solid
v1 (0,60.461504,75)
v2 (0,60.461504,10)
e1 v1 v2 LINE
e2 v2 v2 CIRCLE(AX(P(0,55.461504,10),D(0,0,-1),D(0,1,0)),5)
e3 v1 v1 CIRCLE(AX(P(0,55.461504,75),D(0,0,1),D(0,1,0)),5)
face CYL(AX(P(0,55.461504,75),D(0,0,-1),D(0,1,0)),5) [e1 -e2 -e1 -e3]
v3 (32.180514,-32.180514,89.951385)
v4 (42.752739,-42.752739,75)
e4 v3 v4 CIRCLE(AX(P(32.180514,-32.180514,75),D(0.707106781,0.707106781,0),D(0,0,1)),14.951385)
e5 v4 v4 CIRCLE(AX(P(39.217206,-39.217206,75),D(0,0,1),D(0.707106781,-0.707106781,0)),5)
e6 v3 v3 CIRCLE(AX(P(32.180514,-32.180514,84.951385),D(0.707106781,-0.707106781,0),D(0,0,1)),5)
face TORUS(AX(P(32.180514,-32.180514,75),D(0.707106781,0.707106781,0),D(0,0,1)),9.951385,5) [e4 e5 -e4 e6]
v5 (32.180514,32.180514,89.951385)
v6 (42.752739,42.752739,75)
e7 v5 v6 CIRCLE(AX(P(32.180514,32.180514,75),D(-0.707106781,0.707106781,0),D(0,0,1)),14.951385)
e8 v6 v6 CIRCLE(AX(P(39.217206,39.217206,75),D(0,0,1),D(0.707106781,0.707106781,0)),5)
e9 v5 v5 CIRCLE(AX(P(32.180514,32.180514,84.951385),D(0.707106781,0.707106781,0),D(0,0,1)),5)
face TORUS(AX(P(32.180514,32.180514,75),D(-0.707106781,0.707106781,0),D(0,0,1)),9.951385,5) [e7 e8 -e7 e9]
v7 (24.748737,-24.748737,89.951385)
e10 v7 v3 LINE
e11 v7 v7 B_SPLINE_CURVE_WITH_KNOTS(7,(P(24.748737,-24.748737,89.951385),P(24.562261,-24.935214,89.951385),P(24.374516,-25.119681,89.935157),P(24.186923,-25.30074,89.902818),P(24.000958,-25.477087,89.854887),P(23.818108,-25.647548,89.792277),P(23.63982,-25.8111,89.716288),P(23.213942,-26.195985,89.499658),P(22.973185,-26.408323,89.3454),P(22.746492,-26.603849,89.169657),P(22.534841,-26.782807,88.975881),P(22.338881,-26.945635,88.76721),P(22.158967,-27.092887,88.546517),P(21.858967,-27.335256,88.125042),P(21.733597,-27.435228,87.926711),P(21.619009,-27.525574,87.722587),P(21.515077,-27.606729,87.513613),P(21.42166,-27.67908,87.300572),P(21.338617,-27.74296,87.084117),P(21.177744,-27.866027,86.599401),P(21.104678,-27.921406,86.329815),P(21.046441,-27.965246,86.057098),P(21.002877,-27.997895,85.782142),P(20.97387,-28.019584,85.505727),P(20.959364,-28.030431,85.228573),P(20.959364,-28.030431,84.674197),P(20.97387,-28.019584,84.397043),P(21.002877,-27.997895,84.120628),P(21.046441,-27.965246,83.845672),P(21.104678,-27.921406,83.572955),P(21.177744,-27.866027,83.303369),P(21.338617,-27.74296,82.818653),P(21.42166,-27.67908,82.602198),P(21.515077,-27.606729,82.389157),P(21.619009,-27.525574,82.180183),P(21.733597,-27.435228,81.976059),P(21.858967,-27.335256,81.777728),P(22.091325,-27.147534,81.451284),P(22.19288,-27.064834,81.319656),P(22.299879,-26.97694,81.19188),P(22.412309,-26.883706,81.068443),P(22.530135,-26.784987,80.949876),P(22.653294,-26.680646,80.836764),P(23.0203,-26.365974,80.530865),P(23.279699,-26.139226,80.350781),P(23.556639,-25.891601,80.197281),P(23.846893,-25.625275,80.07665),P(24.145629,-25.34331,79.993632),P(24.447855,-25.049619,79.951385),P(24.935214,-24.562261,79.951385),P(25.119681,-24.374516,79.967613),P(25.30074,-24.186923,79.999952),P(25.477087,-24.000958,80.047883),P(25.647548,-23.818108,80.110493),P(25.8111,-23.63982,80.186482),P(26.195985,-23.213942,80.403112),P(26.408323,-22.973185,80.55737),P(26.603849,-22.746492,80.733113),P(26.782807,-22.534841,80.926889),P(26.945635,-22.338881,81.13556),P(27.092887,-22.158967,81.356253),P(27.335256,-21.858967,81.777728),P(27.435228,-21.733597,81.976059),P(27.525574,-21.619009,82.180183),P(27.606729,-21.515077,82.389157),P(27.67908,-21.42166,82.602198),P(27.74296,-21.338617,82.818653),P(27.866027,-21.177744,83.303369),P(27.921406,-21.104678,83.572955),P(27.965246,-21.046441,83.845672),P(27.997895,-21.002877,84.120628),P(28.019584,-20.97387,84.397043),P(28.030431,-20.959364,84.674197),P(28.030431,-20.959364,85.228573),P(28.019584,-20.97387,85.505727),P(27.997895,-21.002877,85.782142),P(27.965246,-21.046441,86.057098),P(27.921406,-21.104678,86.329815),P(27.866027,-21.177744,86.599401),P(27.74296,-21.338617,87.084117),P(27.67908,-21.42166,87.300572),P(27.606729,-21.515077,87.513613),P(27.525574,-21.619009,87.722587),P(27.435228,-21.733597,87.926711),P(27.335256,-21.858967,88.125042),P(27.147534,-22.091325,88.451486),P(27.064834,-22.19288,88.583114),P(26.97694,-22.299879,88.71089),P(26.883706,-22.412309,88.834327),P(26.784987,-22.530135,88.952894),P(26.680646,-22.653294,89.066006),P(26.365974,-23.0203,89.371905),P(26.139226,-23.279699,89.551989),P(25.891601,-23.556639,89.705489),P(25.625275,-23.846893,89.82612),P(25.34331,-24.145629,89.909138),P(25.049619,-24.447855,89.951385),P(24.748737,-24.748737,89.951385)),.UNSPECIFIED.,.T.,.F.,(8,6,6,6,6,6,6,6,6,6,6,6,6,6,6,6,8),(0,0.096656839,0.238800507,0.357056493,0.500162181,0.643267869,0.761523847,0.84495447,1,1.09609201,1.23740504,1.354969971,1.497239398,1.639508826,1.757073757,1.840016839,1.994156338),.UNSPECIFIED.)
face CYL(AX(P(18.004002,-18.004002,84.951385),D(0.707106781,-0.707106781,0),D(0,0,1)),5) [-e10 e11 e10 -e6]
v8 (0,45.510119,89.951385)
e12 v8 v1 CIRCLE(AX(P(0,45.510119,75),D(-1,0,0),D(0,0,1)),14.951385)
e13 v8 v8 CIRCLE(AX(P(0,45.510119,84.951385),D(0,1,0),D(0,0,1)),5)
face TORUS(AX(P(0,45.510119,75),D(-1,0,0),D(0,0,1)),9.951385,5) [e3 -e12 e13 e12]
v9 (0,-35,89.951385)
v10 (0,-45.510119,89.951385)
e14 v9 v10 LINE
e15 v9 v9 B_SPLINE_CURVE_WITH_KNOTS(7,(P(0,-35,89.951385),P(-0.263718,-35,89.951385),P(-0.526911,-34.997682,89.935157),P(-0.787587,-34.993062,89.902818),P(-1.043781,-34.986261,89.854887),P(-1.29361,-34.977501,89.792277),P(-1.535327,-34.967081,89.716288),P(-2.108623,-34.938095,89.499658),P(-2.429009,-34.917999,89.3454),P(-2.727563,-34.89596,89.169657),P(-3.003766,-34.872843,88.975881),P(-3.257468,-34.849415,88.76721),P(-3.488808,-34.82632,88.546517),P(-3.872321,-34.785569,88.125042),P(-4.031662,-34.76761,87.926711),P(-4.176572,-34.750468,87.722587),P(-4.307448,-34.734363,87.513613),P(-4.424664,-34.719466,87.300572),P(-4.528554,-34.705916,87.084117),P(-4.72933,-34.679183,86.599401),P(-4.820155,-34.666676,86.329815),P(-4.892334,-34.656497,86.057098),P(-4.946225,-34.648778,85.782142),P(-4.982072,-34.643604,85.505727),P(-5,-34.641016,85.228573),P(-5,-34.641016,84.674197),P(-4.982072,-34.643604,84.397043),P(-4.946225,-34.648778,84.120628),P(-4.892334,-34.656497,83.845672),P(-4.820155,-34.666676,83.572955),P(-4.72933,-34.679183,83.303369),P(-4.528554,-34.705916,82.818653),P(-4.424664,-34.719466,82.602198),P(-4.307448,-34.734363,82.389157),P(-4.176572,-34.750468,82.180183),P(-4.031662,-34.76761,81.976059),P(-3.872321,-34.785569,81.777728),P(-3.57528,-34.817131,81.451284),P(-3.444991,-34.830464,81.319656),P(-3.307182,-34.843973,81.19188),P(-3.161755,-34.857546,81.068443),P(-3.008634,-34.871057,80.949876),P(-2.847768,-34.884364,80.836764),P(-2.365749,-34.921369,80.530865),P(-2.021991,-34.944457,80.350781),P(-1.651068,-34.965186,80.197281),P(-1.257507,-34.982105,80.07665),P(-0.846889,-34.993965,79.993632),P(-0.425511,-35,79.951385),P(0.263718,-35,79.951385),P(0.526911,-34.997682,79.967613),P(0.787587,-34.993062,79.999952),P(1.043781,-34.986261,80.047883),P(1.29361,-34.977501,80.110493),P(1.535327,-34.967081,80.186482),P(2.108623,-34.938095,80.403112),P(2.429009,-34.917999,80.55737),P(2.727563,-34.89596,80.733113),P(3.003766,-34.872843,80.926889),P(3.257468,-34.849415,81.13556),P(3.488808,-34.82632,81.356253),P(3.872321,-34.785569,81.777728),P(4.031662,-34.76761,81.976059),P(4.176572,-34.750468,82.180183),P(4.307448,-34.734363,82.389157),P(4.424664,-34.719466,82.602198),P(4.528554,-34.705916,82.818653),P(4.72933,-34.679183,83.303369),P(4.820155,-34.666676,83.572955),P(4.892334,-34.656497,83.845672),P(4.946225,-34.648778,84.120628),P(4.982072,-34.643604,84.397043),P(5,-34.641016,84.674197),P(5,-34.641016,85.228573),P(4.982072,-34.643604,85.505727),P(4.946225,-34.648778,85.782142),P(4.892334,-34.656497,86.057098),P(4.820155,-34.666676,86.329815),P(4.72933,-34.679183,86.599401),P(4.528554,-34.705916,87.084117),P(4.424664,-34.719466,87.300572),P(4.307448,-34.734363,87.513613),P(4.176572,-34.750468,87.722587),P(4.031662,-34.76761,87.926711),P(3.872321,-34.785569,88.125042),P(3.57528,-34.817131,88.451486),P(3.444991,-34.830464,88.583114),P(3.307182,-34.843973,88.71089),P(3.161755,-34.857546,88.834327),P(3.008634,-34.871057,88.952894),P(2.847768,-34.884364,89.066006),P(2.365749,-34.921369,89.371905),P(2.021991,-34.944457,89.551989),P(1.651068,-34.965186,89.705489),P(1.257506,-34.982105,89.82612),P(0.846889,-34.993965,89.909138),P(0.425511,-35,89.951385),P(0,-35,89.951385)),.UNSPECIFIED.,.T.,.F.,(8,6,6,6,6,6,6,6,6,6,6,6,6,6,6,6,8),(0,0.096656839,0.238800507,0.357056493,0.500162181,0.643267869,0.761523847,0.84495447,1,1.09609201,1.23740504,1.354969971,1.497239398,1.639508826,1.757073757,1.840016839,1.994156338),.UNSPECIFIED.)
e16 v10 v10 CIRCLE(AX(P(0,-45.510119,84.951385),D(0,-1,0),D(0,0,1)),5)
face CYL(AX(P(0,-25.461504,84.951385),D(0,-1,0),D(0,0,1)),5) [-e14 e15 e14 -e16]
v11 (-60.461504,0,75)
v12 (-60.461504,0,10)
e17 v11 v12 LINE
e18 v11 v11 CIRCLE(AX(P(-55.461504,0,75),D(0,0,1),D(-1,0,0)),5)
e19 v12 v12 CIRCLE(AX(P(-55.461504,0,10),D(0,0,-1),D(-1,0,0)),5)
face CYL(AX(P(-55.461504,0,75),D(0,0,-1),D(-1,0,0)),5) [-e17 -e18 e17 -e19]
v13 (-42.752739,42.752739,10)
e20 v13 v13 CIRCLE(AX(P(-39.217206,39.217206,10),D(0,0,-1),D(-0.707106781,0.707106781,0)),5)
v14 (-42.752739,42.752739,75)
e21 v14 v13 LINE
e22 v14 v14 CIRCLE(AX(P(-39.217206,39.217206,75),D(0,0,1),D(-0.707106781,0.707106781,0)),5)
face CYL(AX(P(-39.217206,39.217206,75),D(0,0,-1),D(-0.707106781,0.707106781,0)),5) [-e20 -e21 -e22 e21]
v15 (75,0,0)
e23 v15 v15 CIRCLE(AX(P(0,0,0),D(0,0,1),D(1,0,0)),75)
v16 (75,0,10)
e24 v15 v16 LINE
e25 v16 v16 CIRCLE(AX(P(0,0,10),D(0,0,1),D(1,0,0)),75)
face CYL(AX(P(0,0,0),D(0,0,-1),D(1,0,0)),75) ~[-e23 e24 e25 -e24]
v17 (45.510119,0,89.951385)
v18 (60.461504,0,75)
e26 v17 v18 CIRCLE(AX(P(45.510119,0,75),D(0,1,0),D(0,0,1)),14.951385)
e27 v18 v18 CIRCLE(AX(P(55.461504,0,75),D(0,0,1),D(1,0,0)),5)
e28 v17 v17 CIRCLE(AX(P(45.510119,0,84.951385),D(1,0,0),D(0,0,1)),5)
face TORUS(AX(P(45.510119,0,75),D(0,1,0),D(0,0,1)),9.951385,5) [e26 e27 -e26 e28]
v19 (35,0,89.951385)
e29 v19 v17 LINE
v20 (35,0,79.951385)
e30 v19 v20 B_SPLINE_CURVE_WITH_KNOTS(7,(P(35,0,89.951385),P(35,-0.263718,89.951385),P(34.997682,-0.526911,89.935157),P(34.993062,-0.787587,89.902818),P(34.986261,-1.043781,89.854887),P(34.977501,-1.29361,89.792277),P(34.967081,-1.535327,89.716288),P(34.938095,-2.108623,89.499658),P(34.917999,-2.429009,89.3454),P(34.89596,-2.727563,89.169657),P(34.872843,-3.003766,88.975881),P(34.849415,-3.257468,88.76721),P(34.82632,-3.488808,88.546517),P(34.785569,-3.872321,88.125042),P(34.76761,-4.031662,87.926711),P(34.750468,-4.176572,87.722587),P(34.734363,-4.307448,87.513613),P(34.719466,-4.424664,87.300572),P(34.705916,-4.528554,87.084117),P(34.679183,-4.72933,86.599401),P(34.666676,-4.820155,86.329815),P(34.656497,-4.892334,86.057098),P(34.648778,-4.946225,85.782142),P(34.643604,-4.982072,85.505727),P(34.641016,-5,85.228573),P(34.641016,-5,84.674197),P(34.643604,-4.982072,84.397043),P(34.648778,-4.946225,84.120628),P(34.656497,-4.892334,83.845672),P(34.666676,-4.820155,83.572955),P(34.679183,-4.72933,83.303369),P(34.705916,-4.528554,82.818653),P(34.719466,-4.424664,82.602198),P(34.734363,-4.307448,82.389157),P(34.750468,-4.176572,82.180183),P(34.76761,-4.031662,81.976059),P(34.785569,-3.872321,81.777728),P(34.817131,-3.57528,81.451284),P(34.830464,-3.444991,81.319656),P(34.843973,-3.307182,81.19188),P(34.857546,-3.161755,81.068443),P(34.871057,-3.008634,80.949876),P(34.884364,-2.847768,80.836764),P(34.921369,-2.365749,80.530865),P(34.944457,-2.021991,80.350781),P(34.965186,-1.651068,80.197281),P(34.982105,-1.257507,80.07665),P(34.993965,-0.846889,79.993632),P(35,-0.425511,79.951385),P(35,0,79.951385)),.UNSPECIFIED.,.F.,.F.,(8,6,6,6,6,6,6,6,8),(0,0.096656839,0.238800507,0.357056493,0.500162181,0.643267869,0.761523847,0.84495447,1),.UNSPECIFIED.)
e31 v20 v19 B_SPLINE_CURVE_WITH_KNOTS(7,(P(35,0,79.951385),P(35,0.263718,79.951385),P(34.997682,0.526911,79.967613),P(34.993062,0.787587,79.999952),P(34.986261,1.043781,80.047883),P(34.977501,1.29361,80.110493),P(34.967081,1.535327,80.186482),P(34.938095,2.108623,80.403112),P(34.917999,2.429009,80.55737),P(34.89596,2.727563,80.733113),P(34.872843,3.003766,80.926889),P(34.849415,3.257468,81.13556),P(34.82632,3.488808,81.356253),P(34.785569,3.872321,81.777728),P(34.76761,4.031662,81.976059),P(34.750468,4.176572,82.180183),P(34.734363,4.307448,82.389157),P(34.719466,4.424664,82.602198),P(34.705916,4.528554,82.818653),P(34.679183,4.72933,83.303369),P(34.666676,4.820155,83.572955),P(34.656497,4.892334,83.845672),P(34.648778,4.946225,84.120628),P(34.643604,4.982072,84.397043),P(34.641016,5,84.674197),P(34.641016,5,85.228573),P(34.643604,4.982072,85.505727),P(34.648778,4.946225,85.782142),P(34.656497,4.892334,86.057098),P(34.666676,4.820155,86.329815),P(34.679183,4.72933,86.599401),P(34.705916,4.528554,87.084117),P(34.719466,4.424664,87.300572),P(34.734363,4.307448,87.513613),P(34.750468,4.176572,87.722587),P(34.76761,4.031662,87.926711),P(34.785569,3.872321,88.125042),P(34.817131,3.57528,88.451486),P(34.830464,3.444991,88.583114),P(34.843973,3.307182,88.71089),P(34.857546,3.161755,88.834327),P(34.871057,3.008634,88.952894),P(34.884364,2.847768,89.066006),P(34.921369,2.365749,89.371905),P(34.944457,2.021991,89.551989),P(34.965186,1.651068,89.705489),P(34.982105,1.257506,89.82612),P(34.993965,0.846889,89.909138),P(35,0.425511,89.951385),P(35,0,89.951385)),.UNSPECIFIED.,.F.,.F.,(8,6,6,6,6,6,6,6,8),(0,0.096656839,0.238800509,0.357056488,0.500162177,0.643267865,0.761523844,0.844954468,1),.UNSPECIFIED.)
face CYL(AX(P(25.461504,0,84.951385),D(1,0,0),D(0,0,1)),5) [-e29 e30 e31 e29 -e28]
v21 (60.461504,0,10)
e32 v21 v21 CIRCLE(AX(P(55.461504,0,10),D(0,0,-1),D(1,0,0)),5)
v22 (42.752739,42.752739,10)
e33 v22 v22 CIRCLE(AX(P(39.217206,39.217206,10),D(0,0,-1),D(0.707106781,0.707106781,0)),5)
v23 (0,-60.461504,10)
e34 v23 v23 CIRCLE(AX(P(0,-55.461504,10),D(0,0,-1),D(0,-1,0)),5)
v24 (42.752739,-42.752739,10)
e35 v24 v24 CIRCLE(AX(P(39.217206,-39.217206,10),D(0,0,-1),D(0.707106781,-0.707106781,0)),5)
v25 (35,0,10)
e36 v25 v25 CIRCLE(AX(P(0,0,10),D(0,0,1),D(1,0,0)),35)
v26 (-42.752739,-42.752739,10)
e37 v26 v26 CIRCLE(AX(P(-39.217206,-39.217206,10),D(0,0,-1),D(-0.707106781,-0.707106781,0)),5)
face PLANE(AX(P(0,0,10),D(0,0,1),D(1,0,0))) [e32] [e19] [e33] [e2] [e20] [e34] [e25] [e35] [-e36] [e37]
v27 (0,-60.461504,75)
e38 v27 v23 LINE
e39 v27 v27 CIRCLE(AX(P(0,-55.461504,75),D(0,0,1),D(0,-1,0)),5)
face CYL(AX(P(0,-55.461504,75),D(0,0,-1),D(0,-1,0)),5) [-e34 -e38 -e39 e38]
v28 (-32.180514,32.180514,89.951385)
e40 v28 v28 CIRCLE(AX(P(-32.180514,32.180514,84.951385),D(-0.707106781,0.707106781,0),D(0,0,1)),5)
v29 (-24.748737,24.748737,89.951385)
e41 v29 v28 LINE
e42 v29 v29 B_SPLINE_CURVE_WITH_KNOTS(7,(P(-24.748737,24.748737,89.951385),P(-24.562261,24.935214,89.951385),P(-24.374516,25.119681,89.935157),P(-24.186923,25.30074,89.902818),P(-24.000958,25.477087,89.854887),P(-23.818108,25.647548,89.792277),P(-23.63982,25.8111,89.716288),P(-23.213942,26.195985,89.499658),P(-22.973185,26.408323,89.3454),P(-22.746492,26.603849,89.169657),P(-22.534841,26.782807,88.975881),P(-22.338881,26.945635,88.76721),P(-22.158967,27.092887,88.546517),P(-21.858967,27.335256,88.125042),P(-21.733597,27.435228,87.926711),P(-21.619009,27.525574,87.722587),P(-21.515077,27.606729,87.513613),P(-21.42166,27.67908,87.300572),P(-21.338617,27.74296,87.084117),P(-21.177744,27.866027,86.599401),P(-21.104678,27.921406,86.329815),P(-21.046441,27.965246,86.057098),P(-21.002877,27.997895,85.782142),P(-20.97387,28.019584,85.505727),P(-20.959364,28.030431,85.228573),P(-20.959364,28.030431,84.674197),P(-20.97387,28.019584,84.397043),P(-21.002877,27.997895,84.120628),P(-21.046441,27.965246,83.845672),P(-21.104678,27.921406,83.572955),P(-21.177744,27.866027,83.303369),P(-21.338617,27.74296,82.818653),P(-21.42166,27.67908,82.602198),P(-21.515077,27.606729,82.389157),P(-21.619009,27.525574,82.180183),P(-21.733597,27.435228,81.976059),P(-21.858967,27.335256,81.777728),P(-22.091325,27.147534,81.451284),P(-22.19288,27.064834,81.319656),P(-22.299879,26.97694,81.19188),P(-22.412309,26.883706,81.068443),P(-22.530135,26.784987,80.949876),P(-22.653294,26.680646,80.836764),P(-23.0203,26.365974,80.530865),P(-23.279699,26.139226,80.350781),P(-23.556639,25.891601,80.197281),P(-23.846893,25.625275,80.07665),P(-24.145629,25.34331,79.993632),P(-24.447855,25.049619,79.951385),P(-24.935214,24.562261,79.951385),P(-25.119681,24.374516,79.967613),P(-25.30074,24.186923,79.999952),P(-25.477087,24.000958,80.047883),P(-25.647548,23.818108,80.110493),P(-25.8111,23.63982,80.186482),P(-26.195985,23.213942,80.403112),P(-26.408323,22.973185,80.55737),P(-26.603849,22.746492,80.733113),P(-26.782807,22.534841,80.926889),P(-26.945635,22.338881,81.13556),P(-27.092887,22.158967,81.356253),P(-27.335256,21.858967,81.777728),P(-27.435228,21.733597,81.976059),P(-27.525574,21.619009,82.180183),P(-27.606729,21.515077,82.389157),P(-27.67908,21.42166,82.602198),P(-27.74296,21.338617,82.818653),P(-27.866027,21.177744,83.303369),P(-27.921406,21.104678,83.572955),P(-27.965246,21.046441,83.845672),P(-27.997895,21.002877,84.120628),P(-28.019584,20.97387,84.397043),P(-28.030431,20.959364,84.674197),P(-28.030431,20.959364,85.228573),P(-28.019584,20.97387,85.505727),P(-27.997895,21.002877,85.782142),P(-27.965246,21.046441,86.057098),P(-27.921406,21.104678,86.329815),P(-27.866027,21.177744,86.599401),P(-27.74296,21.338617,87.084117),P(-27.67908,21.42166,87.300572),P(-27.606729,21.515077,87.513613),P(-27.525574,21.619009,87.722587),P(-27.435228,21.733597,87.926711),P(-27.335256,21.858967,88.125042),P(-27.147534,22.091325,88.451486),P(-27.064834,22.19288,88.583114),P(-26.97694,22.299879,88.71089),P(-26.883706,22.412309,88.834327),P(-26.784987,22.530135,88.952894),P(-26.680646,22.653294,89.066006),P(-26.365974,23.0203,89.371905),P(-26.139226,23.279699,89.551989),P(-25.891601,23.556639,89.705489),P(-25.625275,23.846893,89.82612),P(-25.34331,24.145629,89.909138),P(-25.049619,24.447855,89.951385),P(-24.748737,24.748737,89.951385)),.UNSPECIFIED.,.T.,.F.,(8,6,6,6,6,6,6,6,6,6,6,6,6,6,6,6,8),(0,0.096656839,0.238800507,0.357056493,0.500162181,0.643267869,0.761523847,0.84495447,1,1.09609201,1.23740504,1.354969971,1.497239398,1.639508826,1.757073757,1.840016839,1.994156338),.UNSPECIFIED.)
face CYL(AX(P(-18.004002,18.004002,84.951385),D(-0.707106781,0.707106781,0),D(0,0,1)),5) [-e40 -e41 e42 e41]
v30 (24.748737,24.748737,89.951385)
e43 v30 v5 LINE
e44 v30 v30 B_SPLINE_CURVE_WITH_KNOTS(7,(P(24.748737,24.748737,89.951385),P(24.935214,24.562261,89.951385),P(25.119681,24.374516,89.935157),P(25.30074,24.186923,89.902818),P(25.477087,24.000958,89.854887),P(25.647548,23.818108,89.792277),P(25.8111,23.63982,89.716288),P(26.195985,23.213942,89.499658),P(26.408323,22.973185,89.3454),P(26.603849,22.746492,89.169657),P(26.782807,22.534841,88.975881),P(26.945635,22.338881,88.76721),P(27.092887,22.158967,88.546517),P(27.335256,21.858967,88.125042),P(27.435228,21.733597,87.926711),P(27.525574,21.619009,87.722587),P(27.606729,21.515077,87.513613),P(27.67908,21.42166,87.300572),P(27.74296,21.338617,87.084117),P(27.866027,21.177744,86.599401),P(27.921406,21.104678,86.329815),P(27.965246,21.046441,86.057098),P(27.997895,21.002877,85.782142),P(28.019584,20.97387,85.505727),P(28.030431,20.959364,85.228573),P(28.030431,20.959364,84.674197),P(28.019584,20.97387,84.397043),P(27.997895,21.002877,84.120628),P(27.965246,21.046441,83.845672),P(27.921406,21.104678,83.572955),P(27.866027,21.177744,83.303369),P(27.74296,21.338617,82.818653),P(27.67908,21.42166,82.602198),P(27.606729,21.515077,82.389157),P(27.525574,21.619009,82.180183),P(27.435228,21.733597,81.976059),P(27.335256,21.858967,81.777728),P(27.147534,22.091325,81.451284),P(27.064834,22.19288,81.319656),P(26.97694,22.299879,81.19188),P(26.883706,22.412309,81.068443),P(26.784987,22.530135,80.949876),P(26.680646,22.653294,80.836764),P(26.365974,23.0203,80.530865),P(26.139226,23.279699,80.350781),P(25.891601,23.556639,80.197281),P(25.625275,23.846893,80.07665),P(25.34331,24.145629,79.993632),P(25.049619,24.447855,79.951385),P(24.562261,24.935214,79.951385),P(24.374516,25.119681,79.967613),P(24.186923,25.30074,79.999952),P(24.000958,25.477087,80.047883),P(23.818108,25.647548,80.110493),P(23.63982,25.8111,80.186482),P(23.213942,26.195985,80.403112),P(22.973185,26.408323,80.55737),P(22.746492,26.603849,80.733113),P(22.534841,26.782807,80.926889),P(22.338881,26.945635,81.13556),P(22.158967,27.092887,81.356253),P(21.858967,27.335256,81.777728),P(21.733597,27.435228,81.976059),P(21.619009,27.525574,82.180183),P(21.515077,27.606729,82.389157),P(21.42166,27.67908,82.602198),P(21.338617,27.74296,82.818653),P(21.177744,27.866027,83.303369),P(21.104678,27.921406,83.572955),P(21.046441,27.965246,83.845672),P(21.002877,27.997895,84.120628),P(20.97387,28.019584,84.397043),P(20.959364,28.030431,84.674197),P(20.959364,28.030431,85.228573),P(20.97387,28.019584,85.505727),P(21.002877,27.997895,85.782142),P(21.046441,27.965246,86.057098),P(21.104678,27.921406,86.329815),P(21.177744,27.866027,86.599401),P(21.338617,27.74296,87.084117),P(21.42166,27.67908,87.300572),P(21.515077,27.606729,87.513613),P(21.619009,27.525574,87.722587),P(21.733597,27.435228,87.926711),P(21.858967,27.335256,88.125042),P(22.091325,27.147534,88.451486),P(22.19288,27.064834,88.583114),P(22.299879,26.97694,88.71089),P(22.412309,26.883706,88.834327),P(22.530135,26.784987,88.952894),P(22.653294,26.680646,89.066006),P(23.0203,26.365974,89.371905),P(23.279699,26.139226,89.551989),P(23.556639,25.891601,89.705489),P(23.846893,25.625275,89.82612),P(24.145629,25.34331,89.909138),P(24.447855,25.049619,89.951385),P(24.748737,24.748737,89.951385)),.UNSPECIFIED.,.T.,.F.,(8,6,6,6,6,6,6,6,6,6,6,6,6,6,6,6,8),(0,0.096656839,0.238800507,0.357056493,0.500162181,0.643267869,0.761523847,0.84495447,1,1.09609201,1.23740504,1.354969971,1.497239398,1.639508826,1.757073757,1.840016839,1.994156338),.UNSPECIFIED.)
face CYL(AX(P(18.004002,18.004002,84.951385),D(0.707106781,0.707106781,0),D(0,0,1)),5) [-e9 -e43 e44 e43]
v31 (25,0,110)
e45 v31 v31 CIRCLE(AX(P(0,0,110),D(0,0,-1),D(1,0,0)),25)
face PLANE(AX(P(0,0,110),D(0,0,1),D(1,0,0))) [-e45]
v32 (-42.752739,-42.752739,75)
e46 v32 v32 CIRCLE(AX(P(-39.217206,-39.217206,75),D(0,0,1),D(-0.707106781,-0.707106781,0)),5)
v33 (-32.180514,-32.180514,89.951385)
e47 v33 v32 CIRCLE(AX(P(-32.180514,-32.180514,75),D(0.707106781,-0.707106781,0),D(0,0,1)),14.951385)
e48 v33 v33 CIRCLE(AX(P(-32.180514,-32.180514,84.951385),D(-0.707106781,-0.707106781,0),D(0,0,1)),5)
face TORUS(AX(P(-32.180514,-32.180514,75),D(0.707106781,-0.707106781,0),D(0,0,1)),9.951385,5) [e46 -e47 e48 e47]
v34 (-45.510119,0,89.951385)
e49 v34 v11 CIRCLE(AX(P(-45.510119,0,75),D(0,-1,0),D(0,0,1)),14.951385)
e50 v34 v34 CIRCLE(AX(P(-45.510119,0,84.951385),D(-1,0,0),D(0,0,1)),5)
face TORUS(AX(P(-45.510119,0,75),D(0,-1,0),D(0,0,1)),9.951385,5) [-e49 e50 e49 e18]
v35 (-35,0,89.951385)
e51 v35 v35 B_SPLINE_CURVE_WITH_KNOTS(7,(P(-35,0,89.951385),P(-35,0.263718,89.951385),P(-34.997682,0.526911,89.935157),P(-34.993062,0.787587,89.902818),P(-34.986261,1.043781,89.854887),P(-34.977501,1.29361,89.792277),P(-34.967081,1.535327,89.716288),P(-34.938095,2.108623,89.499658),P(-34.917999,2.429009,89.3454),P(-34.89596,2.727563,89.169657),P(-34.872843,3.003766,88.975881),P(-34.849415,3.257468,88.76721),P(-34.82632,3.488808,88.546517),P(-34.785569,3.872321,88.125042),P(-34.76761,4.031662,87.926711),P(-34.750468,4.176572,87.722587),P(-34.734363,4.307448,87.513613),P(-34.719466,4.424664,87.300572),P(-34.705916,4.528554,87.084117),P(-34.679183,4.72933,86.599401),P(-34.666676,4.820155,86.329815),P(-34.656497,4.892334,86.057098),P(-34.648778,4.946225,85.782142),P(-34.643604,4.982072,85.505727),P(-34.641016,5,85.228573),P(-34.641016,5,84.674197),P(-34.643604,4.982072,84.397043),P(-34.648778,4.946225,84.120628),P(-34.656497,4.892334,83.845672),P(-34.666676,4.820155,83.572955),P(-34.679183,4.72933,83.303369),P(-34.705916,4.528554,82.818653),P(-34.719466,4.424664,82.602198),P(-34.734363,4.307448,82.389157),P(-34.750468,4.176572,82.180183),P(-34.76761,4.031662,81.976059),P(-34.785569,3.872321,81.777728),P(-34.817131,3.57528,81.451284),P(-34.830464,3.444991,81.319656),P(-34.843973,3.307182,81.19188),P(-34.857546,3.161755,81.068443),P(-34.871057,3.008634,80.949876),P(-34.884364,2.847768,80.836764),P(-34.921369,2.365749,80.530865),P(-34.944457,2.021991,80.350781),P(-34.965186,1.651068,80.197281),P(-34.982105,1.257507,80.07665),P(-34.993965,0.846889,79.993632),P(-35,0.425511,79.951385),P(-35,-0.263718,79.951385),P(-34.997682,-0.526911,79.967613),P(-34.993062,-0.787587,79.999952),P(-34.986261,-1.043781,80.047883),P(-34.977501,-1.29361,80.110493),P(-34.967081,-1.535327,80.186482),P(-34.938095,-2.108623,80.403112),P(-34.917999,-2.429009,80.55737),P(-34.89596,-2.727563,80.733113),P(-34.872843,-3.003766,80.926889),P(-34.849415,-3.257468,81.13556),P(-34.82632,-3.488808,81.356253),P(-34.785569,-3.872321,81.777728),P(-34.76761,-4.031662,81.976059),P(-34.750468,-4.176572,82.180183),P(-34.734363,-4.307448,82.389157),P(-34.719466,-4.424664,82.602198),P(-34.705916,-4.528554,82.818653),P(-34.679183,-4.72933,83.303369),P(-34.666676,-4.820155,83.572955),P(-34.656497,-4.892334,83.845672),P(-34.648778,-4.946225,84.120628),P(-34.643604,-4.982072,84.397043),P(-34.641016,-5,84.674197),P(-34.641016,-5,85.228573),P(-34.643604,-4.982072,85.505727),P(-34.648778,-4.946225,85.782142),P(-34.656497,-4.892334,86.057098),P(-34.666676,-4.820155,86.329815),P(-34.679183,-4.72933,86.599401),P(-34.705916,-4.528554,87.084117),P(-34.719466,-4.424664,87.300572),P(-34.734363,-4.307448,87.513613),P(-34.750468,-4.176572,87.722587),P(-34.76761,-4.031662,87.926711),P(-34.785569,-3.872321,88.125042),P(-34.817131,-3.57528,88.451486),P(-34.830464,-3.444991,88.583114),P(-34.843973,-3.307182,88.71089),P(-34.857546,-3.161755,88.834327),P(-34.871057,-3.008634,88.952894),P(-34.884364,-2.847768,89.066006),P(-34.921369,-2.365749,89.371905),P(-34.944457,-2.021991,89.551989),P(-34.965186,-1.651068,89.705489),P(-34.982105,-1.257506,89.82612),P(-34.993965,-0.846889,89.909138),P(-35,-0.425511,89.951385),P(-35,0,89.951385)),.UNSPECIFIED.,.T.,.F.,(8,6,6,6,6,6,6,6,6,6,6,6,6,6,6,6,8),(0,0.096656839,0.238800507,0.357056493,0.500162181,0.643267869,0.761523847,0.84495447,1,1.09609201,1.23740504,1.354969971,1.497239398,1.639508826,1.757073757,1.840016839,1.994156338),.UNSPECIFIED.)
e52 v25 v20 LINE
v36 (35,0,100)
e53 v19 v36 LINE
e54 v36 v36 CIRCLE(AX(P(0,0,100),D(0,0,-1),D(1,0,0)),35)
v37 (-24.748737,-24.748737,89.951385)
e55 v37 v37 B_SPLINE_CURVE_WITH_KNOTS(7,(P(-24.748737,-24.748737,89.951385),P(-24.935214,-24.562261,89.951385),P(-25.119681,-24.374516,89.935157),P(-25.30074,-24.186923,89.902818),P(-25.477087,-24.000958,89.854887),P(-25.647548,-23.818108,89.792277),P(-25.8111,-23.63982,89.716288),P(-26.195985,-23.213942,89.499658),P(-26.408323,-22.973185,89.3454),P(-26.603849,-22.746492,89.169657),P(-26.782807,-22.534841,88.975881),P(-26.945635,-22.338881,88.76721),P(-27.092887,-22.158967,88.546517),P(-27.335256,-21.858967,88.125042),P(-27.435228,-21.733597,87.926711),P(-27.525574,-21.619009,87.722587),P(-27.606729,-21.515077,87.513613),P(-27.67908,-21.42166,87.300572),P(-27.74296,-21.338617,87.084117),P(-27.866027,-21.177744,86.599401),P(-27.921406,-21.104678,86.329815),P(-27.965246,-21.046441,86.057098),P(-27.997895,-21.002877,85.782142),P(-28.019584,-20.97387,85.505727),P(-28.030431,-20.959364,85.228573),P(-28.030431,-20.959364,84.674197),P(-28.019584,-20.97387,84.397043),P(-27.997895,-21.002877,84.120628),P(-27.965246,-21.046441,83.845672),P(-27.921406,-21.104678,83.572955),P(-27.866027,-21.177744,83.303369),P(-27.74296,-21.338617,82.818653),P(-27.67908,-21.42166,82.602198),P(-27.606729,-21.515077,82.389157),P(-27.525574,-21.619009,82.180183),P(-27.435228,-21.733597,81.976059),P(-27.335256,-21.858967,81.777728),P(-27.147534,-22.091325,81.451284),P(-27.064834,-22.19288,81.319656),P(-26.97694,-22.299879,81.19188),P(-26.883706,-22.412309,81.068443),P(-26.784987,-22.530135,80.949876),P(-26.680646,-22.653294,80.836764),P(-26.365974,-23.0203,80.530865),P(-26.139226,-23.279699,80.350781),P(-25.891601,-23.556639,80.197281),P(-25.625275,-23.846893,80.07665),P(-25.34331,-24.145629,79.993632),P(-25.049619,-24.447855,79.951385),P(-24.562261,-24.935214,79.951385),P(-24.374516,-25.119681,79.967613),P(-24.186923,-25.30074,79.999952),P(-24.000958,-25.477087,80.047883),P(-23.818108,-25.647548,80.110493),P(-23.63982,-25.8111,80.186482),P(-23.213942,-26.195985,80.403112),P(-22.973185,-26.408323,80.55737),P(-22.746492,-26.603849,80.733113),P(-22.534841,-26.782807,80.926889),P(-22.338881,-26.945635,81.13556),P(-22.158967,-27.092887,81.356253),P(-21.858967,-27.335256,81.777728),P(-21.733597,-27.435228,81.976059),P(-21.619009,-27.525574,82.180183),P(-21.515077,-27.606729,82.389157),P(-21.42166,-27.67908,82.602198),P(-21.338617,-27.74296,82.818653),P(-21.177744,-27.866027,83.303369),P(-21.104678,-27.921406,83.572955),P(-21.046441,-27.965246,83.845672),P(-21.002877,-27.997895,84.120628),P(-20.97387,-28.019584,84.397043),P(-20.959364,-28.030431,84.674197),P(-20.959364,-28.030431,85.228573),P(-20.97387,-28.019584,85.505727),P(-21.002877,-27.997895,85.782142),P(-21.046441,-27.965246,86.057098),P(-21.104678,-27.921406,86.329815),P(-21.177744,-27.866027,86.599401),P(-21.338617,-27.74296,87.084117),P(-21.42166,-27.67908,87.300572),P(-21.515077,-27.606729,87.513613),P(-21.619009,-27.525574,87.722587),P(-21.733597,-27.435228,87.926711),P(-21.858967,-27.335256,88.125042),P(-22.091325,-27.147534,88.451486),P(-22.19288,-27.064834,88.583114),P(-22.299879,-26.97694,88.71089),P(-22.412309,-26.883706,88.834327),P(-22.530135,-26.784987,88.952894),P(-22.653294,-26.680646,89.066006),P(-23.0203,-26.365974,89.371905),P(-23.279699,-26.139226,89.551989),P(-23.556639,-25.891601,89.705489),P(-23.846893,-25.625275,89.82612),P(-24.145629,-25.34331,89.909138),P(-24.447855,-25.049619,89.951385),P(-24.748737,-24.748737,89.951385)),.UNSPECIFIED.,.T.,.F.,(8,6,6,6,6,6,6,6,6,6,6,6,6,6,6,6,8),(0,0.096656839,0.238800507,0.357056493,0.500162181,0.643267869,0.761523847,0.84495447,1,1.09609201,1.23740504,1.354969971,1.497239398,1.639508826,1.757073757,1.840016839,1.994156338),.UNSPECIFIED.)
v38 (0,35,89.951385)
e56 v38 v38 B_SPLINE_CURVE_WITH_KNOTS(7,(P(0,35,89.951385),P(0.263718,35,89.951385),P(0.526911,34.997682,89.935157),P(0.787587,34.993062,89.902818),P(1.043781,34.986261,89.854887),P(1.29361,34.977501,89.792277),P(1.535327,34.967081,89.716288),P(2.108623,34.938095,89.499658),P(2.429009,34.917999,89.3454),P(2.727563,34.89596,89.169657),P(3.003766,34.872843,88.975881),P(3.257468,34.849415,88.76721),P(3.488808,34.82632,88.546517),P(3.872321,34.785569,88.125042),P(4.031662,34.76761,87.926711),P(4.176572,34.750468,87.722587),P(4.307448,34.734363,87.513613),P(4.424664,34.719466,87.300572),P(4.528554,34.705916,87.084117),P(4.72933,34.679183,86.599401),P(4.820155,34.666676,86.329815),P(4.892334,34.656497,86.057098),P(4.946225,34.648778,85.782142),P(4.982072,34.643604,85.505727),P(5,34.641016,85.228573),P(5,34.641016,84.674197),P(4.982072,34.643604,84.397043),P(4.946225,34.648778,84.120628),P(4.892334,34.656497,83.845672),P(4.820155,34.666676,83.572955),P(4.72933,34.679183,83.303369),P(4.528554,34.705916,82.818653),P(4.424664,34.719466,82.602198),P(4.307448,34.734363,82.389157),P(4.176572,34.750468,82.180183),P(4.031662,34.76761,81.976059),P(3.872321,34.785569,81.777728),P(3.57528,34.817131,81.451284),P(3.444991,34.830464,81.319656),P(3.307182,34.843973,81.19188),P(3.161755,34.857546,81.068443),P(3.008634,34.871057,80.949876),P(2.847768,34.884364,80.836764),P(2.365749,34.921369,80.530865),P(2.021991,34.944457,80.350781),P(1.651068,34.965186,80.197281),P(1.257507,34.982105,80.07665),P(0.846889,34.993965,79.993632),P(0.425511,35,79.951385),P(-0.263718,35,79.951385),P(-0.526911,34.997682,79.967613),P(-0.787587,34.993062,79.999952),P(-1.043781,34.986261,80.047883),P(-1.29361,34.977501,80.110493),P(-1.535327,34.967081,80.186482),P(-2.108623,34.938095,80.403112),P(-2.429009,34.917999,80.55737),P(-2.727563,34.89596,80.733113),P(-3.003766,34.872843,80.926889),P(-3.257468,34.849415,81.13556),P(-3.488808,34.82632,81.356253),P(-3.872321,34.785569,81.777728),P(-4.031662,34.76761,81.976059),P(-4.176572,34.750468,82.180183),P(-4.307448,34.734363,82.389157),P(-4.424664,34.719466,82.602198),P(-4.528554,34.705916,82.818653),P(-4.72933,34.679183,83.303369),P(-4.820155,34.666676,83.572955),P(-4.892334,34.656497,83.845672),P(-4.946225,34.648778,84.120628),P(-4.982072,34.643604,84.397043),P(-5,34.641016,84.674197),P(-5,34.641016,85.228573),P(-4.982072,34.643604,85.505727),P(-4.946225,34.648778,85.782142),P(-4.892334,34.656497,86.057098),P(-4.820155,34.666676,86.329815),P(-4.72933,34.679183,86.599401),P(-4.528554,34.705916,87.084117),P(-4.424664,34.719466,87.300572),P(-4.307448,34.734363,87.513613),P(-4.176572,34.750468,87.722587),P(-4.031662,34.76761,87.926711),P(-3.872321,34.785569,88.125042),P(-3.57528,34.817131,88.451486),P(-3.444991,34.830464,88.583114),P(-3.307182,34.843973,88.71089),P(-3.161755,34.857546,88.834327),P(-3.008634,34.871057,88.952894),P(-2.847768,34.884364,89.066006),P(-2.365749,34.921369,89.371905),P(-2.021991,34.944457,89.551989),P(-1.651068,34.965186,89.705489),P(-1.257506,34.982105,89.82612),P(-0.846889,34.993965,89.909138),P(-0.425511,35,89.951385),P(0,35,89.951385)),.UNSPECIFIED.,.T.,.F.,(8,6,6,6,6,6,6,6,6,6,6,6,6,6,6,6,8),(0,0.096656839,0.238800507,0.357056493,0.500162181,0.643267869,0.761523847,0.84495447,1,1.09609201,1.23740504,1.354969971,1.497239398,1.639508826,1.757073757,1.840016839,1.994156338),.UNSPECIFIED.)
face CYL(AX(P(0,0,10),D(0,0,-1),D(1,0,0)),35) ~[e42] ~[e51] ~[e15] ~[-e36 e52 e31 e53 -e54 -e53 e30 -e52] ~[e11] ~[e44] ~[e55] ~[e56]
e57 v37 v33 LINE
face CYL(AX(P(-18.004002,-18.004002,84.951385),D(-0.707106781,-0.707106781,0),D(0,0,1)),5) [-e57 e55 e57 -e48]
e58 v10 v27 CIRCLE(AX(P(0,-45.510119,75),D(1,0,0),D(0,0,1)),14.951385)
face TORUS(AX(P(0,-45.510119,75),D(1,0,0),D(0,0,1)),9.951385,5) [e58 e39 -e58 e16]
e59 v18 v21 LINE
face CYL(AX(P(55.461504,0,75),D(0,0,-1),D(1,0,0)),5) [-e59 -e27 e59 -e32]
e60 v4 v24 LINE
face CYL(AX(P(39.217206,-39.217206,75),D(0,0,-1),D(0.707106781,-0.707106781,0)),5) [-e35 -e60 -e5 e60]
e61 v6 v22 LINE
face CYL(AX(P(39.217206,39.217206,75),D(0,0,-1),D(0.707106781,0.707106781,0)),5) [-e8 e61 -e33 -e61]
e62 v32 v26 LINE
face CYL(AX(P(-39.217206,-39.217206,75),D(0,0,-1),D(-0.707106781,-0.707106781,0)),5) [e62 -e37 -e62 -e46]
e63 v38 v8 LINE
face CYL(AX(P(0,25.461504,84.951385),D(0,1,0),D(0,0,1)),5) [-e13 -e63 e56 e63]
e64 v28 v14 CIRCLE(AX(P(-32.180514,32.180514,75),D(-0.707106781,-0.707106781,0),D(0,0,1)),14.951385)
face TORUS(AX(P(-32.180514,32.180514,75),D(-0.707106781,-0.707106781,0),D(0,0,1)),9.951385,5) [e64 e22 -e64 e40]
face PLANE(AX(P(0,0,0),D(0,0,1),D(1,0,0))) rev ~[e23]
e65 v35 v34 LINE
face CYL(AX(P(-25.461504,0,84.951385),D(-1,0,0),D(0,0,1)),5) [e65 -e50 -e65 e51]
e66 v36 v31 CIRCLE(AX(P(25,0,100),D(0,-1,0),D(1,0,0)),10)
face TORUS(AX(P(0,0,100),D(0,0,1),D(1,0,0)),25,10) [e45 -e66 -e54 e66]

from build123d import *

# Parameters (mm, degrees)
SKETCH_R           = 75
PAD_DEPTH          = 10
SKETCH001_R        = 35
PAD001_DEPTH       = 100
FILLET_R           = 10
SKETCH003_R        = 5
POLARPATTERN_COUNT = 8


with BuildPart() as part:
    # Sketch → Pad (new body)
    with BuildSketch(Plane.XY):
        Circle(SKETCH_R)
    extrude(amount=PAD_DEPTH)

    # Sketch001 (on Face3 of Pad) → Pad001 (join)
    with BuildSketch(Plane.XY.offset(10)):
        Circle(SKETCH001_R)
    extrude(amount=PAD001_DEPTH)

    # Fillet
    fillet_edges = [part.edges().sort_by_distance(p)[0] for p in [
        (-35, 0, 110),
    ]]
    fillet(fillet_edges, radius=FILLET_R)

    # AdditivePipe: sweep along a path in Sketch002
    with BuildLine(Plane.XZ) as additivepipe_path:
        Line((25.461504, 84.951385), (45.510119, 84.951385))
        ThreePointArc((45.510119, 84.951385), (52.5468108157, 82.0366918157), (55.461504, 75))
        Line((55.461504, 75), (55.461504, 10))
    # Sketch003 (on Face3 of Fillet) → AdditivePipe (sweep)
    with BuildSketch(Plane.XY.offset(10)):
        with Locations((55.461504, 0)):
            Circle(SKETCH003_R)
    sweep(path=additivepipe_path.line)

    # PolarPattern: part ×8 about axis
    polarpattern_axis = Axis((0, 0, 0), (0, 0, 1))


with BuildPart() as part_1:
    add(part.part)
    for i in range(1, POLARPATTERN_COUNT):
        add(part.part.rotate(polarpattern_axis, i * 360 / POLARPATTERN_COUNT))


solid = part_1.part
